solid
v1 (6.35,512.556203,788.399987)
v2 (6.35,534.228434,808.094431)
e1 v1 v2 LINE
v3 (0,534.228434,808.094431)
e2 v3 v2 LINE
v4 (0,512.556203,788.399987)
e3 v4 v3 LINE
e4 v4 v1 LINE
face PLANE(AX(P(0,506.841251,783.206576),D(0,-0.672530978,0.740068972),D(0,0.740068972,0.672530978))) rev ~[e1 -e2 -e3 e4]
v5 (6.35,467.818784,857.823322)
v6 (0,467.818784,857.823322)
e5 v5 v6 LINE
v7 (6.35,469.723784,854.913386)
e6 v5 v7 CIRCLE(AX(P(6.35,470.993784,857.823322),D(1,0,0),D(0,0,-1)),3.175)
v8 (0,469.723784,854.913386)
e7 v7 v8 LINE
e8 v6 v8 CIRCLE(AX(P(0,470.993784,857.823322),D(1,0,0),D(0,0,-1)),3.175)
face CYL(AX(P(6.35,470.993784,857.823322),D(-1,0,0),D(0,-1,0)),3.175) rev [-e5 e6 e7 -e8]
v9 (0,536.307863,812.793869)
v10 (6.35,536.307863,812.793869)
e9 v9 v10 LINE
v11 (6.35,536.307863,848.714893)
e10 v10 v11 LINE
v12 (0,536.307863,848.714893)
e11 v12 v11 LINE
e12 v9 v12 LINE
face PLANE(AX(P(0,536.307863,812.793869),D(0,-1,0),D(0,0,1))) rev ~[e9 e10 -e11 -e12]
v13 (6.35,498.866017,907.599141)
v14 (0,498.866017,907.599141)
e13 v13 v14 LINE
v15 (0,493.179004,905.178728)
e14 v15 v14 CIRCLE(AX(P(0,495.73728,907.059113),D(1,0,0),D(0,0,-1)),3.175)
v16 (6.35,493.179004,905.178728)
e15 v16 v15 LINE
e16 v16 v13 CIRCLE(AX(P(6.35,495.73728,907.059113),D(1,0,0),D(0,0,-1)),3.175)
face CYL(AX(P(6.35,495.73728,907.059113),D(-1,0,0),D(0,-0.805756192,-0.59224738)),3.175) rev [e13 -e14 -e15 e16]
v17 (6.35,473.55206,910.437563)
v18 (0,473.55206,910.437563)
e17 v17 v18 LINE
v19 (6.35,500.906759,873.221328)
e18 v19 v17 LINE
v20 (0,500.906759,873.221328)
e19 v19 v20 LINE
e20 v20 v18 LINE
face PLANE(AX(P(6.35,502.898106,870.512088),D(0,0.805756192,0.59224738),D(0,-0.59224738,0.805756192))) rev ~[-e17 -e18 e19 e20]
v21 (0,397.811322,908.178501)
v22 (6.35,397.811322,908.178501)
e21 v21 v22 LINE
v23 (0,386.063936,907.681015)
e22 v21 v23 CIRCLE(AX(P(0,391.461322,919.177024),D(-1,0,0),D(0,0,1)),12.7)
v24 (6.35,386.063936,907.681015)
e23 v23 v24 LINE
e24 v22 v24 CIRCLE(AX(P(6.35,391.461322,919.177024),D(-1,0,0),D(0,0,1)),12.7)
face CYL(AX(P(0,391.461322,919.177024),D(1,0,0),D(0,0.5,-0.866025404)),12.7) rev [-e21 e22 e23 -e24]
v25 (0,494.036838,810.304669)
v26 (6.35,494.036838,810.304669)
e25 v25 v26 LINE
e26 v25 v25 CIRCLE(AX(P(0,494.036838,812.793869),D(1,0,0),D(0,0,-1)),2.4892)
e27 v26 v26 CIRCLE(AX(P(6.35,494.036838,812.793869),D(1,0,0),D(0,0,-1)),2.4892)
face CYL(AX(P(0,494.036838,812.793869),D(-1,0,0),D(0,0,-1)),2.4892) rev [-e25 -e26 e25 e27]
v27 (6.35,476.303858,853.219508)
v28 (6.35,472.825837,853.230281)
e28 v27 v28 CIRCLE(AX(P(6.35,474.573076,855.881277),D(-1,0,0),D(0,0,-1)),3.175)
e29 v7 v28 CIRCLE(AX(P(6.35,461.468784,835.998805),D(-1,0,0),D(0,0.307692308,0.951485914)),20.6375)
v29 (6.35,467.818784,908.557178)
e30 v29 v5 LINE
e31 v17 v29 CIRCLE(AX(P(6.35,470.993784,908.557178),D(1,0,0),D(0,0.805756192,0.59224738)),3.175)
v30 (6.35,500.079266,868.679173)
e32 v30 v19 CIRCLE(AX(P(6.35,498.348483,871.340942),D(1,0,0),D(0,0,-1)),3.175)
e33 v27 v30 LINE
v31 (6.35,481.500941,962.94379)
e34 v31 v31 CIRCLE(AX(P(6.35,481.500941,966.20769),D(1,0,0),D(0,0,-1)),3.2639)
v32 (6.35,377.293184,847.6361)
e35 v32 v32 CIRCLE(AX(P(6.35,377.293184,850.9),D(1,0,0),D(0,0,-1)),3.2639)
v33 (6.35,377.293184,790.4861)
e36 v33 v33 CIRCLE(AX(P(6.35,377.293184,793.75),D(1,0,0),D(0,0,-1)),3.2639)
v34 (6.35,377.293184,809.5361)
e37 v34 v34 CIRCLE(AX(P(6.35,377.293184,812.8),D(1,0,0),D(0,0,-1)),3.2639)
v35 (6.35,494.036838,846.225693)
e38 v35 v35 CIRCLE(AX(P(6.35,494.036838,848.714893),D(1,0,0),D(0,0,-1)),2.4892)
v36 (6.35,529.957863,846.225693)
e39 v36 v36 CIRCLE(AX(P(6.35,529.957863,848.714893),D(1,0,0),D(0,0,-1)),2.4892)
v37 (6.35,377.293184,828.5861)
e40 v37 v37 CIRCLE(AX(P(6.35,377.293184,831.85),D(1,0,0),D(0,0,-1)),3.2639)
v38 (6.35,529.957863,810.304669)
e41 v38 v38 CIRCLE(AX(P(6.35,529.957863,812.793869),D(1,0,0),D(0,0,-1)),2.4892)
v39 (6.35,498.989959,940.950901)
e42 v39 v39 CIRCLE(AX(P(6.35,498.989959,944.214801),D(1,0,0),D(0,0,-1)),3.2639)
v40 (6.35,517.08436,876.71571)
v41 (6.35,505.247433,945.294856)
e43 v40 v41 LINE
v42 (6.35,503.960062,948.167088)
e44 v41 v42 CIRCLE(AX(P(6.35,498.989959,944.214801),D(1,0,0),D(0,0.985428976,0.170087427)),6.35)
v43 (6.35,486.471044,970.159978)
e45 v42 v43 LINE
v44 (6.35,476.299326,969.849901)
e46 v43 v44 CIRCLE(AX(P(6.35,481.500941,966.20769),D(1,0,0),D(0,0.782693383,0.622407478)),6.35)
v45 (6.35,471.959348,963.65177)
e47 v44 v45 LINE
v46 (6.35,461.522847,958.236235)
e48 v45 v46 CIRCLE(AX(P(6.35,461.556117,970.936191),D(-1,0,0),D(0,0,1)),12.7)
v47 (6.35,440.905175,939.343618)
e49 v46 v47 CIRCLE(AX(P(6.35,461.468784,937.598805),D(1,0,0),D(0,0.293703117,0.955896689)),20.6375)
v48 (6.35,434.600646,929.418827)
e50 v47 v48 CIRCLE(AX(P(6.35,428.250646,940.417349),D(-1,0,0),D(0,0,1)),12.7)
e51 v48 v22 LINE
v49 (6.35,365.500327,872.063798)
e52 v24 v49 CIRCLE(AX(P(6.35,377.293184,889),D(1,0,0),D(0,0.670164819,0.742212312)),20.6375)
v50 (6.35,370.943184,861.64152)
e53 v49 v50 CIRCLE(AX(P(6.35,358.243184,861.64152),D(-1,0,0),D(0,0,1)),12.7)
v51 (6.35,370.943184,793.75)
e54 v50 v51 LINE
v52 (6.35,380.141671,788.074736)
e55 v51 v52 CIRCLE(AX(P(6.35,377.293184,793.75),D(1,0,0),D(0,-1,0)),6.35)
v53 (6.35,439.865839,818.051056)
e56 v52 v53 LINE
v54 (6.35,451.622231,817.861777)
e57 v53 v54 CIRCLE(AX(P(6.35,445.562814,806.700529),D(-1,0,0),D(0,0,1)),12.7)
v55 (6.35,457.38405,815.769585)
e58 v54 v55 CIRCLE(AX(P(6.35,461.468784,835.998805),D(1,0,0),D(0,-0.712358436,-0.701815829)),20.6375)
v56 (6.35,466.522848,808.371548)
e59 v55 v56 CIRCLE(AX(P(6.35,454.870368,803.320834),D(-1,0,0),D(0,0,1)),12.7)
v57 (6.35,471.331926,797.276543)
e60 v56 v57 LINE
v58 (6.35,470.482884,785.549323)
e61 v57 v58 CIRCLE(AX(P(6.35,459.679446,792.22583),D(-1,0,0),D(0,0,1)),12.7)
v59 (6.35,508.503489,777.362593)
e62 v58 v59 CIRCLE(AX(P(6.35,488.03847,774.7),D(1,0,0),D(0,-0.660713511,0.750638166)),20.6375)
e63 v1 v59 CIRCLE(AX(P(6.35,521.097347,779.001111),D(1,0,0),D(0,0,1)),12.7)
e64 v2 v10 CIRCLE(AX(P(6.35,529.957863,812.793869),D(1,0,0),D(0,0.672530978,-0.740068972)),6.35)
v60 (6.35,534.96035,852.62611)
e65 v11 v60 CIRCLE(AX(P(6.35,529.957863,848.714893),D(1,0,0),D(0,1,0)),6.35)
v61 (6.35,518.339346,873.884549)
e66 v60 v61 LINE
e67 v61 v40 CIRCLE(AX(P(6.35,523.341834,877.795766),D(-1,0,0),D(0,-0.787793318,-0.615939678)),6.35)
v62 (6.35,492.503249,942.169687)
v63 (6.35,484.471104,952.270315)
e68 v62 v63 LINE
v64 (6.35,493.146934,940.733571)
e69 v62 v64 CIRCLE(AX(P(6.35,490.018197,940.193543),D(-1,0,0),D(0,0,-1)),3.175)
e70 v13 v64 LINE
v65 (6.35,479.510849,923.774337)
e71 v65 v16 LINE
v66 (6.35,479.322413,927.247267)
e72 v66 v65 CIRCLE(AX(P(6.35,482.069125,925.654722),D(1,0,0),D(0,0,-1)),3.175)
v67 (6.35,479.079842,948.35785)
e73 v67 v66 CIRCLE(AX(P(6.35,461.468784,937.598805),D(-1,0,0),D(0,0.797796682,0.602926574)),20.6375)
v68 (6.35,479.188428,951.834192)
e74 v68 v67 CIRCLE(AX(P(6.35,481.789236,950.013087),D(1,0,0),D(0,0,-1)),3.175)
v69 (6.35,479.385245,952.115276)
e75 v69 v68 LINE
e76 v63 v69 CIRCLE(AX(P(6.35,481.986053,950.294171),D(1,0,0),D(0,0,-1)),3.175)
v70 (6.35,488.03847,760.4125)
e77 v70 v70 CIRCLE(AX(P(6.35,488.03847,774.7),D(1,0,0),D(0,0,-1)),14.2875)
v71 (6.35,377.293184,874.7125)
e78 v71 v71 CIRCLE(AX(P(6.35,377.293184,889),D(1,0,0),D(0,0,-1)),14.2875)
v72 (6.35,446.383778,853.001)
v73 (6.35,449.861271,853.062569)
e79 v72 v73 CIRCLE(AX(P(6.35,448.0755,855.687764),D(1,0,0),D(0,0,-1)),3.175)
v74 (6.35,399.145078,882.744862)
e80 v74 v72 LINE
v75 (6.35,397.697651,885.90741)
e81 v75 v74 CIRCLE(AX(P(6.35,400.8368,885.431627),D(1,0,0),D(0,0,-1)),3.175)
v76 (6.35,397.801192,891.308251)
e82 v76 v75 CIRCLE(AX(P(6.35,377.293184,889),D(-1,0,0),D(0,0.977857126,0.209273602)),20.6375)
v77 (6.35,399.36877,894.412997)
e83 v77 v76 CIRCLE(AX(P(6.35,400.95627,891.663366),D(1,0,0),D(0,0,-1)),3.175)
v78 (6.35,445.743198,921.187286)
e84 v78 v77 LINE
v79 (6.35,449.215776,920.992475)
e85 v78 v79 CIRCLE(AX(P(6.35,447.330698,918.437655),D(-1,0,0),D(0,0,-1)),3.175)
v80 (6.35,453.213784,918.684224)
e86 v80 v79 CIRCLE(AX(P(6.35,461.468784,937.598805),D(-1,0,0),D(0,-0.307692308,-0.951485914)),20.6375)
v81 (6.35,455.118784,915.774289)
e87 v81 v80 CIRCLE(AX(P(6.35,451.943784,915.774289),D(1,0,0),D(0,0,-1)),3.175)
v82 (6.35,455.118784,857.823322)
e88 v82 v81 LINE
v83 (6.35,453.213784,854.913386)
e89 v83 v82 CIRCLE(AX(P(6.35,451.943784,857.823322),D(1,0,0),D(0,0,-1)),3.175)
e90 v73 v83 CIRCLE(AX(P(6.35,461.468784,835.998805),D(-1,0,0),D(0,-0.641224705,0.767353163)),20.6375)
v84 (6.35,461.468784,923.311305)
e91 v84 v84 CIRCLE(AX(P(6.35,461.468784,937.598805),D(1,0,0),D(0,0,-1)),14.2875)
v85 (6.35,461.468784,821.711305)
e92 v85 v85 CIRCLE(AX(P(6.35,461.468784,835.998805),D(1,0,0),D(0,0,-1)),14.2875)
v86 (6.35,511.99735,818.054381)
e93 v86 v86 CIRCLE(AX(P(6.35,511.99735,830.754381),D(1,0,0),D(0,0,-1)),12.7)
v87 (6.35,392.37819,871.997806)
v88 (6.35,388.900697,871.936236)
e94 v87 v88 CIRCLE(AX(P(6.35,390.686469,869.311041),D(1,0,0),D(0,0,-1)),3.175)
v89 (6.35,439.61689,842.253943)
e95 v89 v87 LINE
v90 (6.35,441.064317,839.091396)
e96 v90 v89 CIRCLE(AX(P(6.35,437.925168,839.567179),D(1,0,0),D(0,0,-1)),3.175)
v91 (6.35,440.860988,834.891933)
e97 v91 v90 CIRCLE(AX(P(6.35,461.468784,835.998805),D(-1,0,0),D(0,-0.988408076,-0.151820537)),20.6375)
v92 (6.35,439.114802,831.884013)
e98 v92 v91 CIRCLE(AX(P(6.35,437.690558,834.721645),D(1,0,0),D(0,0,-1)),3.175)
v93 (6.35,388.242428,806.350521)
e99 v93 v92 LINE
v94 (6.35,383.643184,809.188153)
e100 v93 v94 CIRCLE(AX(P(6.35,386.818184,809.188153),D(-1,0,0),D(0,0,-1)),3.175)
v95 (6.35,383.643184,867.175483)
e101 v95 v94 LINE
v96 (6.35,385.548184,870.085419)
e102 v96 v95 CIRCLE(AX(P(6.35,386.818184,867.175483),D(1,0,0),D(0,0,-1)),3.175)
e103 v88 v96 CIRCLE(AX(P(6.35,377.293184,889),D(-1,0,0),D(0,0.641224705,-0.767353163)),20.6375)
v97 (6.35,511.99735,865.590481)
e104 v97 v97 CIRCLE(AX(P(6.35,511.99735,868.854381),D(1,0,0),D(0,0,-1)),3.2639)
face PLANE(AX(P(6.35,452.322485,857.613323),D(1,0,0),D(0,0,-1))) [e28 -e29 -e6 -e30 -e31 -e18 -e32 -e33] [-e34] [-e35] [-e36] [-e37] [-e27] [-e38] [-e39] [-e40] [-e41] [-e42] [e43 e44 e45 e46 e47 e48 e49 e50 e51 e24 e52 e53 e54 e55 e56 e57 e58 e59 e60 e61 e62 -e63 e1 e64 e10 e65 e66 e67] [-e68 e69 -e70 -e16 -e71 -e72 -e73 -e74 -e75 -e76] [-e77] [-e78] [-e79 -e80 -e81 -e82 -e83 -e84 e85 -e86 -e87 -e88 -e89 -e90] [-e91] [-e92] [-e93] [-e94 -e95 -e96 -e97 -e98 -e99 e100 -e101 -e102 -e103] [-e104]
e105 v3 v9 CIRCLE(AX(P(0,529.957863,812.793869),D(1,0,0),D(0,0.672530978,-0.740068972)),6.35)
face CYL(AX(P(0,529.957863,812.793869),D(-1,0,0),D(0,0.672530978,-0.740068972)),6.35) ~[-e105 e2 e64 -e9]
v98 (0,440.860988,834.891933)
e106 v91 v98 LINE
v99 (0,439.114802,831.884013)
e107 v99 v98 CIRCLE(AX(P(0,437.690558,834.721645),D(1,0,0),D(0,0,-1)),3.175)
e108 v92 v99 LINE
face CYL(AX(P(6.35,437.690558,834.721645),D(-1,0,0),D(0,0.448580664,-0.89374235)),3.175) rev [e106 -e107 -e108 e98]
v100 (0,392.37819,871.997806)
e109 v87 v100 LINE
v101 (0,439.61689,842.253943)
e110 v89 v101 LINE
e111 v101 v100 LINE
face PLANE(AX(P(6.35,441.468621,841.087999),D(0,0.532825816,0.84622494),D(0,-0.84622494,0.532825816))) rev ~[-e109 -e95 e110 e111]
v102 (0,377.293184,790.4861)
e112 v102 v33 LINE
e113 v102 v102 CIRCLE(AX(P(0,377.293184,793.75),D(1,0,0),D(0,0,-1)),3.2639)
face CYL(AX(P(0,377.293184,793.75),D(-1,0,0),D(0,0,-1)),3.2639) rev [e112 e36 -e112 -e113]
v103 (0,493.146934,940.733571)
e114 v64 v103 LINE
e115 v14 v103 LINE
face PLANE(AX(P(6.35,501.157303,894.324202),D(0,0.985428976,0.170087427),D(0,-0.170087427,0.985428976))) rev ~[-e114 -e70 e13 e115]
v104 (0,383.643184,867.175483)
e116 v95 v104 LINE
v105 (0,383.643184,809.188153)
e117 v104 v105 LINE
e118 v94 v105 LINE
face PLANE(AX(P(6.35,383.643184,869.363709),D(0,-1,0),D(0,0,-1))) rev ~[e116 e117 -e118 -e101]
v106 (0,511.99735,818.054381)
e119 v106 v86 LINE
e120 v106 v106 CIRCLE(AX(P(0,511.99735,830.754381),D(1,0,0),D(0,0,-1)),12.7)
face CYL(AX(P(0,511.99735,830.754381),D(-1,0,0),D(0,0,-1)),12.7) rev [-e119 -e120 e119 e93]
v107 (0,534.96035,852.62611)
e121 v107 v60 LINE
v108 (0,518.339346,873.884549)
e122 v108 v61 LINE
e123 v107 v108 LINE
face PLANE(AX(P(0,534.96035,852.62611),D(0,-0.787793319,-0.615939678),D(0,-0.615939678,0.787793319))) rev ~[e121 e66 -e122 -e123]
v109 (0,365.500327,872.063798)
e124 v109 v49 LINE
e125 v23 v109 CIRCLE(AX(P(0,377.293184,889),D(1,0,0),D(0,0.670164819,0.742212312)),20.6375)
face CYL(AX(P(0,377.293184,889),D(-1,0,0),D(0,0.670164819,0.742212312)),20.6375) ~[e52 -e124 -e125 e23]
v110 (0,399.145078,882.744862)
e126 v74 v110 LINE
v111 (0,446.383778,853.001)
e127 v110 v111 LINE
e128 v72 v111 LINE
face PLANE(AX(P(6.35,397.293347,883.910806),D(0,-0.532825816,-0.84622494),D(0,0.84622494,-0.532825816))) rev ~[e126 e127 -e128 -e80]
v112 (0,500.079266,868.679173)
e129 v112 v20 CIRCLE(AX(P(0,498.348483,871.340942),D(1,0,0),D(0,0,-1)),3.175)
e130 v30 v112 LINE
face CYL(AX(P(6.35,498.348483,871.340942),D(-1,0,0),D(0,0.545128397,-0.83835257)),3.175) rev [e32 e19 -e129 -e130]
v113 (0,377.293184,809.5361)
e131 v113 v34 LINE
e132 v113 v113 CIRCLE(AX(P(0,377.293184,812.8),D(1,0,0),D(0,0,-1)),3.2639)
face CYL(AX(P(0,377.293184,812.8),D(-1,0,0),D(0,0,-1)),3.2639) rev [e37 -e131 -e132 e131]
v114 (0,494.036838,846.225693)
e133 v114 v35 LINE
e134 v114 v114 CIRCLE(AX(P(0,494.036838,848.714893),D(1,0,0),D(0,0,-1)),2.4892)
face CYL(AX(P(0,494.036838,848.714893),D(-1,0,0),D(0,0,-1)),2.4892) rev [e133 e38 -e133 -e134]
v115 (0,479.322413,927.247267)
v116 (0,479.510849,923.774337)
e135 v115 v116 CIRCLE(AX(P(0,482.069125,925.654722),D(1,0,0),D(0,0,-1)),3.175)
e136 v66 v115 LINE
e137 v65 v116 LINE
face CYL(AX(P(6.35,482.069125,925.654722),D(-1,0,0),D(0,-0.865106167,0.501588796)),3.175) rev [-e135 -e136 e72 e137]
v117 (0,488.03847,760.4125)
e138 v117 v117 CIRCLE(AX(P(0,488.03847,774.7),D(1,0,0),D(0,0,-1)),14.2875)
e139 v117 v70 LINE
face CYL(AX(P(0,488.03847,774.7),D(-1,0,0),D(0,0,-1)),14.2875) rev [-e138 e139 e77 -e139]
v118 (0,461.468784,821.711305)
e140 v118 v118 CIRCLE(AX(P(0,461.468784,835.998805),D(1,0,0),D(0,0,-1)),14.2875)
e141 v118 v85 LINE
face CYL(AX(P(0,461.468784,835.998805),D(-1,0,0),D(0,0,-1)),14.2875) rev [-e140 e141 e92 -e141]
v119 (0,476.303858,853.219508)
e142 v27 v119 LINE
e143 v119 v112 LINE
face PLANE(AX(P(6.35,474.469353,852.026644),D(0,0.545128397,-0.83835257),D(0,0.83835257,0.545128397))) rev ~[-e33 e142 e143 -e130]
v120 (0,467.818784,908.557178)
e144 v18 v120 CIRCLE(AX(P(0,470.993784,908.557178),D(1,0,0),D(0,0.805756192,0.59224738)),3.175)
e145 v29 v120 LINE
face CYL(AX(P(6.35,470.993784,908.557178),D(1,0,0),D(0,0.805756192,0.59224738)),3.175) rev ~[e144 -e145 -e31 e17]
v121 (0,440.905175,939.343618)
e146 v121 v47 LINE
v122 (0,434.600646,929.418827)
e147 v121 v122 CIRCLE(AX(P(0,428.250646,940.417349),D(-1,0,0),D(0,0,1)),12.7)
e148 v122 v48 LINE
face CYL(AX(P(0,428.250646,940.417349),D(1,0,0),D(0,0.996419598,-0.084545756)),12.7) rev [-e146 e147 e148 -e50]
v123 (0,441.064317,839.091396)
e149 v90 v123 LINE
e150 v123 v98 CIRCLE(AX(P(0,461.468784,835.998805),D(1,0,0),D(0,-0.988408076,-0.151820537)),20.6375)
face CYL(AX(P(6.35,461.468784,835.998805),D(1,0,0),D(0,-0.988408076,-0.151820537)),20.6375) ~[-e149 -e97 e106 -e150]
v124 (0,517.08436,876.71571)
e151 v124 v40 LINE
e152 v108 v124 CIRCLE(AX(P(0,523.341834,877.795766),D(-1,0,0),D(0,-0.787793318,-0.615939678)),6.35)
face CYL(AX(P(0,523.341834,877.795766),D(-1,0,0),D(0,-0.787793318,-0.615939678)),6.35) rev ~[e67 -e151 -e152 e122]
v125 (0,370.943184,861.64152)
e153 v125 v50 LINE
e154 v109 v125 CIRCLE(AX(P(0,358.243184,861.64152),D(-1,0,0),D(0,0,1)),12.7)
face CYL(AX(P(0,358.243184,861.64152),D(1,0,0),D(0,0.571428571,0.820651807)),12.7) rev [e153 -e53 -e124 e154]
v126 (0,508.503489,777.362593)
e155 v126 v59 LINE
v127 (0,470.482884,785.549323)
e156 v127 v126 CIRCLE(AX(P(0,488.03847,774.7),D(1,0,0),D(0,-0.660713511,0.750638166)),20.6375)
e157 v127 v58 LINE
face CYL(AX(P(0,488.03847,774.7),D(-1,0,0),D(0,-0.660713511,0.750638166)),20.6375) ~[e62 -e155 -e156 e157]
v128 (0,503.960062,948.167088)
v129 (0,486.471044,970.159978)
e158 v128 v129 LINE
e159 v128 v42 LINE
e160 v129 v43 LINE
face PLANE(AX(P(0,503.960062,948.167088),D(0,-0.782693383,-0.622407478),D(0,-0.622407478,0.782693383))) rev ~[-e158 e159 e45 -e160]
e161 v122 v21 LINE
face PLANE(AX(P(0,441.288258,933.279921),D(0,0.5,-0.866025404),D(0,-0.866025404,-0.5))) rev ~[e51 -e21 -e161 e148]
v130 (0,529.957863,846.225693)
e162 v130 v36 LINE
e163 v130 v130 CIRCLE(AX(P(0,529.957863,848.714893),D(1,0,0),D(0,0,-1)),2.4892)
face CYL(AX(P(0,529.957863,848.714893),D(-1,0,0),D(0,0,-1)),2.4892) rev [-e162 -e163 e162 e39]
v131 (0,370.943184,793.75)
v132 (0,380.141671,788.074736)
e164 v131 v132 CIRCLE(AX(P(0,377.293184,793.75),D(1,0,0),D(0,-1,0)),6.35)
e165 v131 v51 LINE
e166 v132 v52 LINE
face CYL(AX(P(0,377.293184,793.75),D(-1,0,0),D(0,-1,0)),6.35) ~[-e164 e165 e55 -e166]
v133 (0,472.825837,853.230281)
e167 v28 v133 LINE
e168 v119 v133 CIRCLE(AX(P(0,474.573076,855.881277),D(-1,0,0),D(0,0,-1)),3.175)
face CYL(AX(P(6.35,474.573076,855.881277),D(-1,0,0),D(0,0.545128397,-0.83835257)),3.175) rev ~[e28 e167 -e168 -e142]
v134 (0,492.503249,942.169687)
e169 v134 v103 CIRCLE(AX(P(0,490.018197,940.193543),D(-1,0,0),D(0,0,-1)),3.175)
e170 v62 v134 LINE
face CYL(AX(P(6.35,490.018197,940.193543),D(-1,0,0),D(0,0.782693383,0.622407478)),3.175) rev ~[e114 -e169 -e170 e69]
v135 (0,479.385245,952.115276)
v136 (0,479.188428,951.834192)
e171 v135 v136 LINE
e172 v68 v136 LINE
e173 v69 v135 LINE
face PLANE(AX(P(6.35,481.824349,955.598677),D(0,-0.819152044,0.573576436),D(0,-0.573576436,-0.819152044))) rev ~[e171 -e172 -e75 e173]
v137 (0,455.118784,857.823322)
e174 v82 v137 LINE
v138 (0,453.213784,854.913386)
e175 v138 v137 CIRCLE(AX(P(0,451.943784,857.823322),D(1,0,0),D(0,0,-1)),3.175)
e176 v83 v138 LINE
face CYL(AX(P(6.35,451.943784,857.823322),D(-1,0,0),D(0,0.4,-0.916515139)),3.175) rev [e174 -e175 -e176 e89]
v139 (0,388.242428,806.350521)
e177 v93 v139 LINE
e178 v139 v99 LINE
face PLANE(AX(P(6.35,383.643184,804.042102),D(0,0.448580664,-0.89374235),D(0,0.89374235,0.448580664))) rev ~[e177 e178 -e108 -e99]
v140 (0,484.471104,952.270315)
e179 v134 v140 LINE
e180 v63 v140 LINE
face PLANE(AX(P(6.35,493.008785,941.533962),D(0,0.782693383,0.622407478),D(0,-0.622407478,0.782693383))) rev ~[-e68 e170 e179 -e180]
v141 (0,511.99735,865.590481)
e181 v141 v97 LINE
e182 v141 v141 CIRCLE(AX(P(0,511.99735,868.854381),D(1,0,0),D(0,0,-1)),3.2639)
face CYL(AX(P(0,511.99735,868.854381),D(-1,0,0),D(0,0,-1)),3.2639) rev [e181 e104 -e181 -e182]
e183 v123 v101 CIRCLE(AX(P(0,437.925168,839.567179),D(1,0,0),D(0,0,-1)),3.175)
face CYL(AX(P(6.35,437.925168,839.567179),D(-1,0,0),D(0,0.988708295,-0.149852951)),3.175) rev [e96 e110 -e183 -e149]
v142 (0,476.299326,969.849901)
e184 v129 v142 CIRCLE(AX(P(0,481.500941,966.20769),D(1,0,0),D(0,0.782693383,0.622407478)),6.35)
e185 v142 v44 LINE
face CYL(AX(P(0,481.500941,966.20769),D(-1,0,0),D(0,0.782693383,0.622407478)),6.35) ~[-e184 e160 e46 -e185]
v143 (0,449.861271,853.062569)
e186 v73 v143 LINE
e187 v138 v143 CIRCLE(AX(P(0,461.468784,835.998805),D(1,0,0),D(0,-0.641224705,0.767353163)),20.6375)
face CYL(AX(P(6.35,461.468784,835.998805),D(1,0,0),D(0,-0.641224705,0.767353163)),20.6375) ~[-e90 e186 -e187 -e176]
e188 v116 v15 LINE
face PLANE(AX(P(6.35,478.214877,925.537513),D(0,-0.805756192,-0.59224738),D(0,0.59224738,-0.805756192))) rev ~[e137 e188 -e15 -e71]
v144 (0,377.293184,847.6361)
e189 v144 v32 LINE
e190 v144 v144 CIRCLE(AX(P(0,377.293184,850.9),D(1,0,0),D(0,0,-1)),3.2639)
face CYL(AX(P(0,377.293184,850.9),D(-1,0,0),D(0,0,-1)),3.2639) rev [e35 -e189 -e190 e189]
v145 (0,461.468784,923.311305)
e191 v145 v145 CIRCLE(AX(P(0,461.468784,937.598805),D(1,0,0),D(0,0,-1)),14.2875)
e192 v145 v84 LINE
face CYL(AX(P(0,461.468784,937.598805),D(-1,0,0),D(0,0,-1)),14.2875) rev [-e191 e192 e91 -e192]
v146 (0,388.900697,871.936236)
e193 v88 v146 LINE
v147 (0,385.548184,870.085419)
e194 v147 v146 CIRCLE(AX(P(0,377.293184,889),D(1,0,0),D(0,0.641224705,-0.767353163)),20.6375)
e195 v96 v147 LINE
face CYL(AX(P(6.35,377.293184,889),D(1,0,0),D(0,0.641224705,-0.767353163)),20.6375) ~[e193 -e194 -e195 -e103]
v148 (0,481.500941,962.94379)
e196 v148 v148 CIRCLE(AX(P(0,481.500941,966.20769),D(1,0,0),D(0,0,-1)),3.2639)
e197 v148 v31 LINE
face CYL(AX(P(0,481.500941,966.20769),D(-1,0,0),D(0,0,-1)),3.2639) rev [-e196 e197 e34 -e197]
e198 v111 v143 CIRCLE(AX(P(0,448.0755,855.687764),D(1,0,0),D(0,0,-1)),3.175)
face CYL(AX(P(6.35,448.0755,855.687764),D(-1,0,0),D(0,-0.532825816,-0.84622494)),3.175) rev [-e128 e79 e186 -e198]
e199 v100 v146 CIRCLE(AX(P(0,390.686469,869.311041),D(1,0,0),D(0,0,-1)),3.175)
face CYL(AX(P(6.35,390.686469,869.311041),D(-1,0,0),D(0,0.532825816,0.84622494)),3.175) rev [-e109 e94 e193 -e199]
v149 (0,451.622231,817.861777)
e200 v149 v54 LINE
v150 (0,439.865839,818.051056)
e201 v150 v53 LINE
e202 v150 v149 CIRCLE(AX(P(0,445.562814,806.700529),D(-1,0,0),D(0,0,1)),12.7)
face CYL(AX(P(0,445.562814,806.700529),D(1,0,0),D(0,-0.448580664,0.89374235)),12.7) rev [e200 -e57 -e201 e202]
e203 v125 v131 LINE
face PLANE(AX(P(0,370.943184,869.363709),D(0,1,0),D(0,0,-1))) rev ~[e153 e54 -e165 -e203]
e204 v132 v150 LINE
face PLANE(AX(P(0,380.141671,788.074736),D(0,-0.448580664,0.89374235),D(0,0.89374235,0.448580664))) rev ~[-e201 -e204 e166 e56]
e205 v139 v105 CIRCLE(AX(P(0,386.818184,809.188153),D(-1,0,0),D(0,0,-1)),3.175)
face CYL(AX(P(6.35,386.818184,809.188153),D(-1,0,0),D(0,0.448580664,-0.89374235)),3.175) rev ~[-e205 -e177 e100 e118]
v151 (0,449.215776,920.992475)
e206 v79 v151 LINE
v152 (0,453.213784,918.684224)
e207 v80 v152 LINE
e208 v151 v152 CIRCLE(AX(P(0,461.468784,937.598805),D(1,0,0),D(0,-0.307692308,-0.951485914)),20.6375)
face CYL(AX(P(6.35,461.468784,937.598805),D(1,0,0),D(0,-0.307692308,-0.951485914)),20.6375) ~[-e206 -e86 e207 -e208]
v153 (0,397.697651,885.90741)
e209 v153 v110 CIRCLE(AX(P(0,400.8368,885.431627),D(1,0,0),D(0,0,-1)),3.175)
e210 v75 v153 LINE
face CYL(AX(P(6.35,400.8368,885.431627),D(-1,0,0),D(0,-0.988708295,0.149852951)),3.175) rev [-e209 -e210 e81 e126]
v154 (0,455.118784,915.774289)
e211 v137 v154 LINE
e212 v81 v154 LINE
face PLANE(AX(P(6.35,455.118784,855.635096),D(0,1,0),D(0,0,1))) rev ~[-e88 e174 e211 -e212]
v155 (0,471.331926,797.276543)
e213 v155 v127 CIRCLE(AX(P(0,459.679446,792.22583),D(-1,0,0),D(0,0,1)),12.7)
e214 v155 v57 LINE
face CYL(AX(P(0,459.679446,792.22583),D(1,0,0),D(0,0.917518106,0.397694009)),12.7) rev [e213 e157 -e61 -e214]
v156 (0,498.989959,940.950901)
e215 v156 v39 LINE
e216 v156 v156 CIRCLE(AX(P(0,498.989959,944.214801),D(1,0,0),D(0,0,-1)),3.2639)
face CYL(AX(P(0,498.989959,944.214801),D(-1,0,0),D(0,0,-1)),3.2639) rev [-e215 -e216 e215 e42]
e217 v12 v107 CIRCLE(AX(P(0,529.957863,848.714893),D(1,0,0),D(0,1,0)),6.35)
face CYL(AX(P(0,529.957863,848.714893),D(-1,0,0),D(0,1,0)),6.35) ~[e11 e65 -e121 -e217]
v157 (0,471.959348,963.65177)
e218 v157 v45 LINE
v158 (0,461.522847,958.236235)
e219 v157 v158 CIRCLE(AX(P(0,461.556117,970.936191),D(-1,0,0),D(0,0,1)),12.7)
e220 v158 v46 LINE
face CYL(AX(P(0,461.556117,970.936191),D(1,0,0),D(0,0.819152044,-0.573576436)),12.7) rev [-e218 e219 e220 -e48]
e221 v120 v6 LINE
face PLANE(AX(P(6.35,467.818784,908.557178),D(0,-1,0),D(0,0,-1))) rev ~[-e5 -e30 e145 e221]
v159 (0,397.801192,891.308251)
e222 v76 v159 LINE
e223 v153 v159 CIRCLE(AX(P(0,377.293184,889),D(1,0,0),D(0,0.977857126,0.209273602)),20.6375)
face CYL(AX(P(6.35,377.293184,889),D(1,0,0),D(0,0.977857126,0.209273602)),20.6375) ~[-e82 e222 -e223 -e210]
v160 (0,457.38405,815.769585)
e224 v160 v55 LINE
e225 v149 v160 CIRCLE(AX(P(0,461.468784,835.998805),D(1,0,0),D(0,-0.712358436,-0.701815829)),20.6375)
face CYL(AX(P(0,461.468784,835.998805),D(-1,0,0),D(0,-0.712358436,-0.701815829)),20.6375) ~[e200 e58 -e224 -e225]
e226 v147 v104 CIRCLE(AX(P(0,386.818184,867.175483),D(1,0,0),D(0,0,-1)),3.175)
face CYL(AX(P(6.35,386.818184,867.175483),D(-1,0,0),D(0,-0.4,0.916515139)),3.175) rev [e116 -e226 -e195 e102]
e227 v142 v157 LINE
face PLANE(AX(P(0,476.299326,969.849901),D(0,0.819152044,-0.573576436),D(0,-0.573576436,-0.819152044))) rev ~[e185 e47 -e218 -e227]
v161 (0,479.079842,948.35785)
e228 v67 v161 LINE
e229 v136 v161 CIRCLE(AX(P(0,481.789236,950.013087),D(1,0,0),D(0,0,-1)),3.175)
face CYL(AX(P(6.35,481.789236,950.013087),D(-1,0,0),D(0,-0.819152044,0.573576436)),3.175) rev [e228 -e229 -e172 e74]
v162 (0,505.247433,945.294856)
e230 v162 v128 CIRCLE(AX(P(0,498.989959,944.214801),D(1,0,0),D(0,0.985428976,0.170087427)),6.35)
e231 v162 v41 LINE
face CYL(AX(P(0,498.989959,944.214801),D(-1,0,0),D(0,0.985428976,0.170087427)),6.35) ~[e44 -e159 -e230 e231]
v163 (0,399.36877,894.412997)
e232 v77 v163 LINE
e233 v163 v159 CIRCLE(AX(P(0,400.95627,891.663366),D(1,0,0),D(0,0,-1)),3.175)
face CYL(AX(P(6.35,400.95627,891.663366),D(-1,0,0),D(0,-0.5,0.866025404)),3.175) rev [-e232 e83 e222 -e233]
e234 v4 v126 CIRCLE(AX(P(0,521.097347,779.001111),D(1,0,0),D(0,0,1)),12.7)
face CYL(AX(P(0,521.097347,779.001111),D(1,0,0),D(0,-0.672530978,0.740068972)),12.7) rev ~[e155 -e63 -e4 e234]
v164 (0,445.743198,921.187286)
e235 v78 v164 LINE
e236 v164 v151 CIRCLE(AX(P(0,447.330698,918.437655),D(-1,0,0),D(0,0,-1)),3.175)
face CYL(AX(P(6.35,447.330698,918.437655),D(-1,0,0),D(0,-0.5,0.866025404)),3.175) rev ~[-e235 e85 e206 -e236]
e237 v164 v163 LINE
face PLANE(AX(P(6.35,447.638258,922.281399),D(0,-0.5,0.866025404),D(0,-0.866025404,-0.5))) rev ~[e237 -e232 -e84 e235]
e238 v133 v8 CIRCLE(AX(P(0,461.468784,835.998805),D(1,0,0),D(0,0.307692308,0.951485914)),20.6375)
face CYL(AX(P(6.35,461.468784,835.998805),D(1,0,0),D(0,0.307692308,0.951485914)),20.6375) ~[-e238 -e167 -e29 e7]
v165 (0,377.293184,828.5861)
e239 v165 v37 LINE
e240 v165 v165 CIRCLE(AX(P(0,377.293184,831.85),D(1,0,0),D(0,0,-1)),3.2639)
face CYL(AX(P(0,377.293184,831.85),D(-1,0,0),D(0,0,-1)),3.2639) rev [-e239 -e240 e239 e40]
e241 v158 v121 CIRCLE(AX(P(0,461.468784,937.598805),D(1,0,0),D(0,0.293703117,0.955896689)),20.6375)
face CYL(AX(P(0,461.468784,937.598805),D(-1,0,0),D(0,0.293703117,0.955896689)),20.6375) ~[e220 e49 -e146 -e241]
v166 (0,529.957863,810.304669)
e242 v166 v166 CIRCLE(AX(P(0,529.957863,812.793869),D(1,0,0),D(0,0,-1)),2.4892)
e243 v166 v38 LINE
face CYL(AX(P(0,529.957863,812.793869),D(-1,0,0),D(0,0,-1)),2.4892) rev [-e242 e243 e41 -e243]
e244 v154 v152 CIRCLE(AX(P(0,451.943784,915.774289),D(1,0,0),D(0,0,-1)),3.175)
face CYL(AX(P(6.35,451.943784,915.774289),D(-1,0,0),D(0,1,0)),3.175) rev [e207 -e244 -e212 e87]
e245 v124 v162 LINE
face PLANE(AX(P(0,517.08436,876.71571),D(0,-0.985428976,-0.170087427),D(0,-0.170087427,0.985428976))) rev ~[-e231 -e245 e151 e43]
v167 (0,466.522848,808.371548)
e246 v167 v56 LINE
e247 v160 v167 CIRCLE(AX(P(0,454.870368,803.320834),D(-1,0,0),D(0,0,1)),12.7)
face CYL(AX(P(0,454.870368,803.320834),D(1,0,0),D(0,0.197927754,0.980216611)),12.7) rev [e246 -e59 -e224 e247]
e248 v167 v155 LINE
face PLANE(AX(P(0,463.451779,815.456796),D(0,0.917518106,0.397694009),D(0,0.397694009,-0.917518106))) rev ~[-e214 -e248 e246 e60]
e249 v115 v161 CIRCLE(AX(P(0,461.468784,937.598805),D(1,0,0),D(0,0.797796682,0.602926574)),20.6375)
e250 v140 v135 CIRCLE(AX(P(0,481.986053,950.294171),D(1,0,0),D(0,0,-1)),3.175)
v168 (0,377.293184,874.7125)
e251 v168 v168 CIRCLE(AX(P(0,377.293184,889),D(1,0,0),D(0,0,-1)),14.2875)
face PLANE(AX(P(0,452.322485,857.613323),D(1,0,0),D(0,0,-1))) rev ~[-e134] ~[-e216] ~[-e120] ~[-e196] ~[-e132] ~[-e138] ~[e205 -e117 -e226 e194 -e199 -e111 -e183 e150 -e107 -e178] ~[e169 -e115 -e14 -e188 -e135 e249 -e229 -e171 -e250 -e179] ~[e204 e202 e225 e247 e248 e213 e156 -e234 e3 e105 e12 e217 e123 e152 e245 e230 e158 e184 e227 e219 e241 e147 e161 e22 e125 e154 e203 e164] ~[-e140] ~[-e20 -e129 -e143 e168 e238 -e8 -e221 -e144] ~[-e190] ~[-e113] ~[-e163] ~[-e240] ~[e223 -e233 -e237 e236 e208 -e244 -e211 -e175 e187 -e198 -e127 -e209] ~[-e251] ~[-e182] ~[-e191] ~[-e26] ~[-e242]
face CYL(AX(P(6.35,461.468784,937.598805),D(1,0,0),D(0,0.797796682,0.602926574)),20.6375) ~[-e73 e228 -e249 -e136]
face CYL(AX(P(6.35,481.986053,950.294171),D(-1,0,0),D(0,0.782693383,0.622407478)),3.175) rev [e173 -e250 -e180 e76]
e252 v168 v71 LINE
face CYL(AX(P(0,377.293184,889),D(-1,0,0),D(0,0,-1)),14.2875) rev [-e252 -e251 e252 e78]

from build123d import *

# Parameters (mm, degrees)
SKETCH1_R           = 14.2875
SKETCH1_R_2         = 3.2639
SKETCH1_R_3         = 2.4892
SKETCH1_R_4         = 12.7
BOSS_EXTRUDE1_DEPTH = 6.35
FILLET1_R           = 12.7
CUT_EXTRUDE1_DEPTH  = 1111.646166548
FILLET2_R           = 3.175


with BuildPart() as part:
    # Sketch1 → Boss-Extrude1 (new body)
    with BuildSketch(Plane(origin=(0, 0, 0), x_dir=(0, 0, -1), z_dir=(1, 0, 0))):
        with BuildLine():
            ThreePointArc((-970.159977951, 486.471044057), (-972.554742028, 481.307456029), (-969.849900837, 476.299325595))
            Line((-969.849900837, 476.299325595), (-957.32612323, 467.530082108))
            ThreePointArc((-957.32612323, 467.530082108), (-952.814366358, 447.526291127), (-933.279921362, 441.288257591))
            Line((-933.279921362, 441.288257591), (-904.317406585, 391.123710482))
            ThreePointArc((-904.317406585, 391.123710482), (-899.31875, 359.420584766), (-869.363709458, 370.943184037))
            Line((-869.363709458, 370.943184037), (-793.75, 370.943184037))
            ThreePointArc((-793.75, 370.943184037), (-788.345816721, 373.958922036), (-788.074736079, 380.141671253))
            Line((-788.074736079, 380.141671253), (-821.515081147, 446.767486803))
            ThreePointArc((-821.515081147, 446.767486803), (-816.600560548, 454.425027508), (-815.456796251, 463.451779173))
            Line((-815.456796251, 463.451779173), (-790.191295152, 474.402994585))
            ThreePointArc((-790.191295152, 474.402994585), (-754.524902303, 483.694296655), (-783.206575716, 506.841250736))
            Line((-783.206575716, 506.841250736), (-808.094430848, 534.22843431))
            ThreePointArc((-808.094430848, 534.22843431), (-810.224397121, 535.764782193), (-812.79386882, 536.307862598))
            Line((-812.79386882, 536.307862598), (-848.714893304, 536.307862598))
            ThreePointArc((-848.714893304, 536.307862598), (-850.783311047, 535.961540474), (-852.626110261, 534.96035017))
            Line((-852.626110261, 534.96035017), (-873.884548632, 518.339346434))
            ThreePointArc((-873.884548632, 518.339346434), (-875.222451174, 517.536616274), (-876.715710426, 517.084360008))
            Line((-876.715710426, 517.084360008), (-945.294856051, 505.247433425))
            ThreePointArc((-945.294856051, 505.247433425), (-946.812001144, 504.784530233), (-948.167088373, 503.960062407))
            Line((-948.167088373, 503.960062407), (-970.159977951, 486.471044057))
        make_face()
        with Locations((-774.7, 488.038469669)):
            Circle(SKETCH1_R, mode=Mode.SUBTRACT)
        with Locations((-835.998805319, 461.468784037)):
            Circle(SKETCH1_R, mode=Mode.SUBTRACT)
        with Locations((-889, 377.293184037)):
            Circle(SKETCH1_R, mode=Mode.SUBTRACT)
        with Locations((-937.598805319, 461.468784037)):
            Circle(SKETCH1_R, mode=Mode.SUBTRACT)
        with Locations((-850.9, 377.293184037)):
            Circle(SKETCH1_R_2, mode=Mode.SUBTRACT)
        with Locations((-831.85, 377.293184037)):
            Circle(SKETCH1_R_2, mode=Mode.SUBTRACT)
        with Locations((-812.8, 377.293184037)):
            Circle(SKETCH1_R_2, mode=Mode.SUBTRACT)
        with Locations((-793.75, 377.293184037)):
            Circle(SKETCH1_R_2, mode=Mode.SUBTRACT)
        with Locations((-966.207690466, 481.500941076)):
            Circle(SKETCH1_R_2, mode=Mode.SUBTRACT)
        with Locations((-944.214800888, 498.989959427)):
            Circle(SKETCH1_R_2, mode=Mode.SUBTRACT)
        with Locations((-868.854381062, 511.997350355)):
            Circle(SKETCH1_R_2, mode=Mode.SUBTRACT)
        with Locations((-848.714893304, 494.036838113)):
            Circle(SKETCH1_R_3, mode=Mode.SUBTRACT)
        with Locations((-812.79386882, 494.036838113)):
            Circle(SKETCH1_R_3, mode=Mode.SUBTRACT)
        with Locations((-830.754381062, 511.997350355)):
            Circle(SKETCH1_R_4, mode=Mode.SUBTRACT)
        with Locations((-848.714893304, 529.957862598)):
            Circle(SKETCH1_R_3, mode=Mode.SUBTRACT)
        with Locations((-812.79386882, 529.957862598)):
            Circle(SKETCH1_R_3, mode=Mode.SUBTRACT)
    extrude(amount=BOSS_EXTRUDE1_DEPTH)

    # Fillet1
    fillet1_edges = [part.edges().sort_by_distance(p)[0] for p in [
        (3.175, 391.123710482, 904.317406585),
        (3.175, 441.288257591, 933.279921362),
        (3.175, 467.530082108, 957.32612323),
        (3.175, 506.841250736, 783.206575716),
        (3.175, 474.402994585, 790.191295152),
        (3.175, 463.451779173, 815.456796251),
        (3.175, 446.767486803, 821.515081147),
        (3.175, 370.943184037, 869.363709458),
    ]]
    fillet(fillet1_edges, radius=FILLET1_R)

    # Sketch2 → Cut-Extrude1 (cut, through all)
    with BuildSketch(Plane(origin=(6.35, 0, 0), x_dir=(0, 0, -1), z_dir=(1, 0, 0))):
        with BuildLine():
            Line((-941.533962306, 493.008784522), (-955.598677388, 481.824348785))
            Line((-955.598677388, 481.824348785), (-950.041702488, 477.93331307))
            ThreePointArc((-950.041702488, 477.93331307), (-937.835924045, 482.10492178), (-925.537513496, 478.214877486))
            Line((-925.537513496, 478.214877486), (-894.3242024, 501.157303389))
            Line((-894.3242024, 501.157303389), (-941.533962306, 493.008784522))
        make_face()
        with BuildLine():
            Line((-852.026643719, 474.469353351), (-870.512088457, 502.898105526))
            Line((-870.512088457, 502.898105526), (-910.437563384, 473.552059946))
            ThreePointArc((-910.437563384, 473.552059946), (-911.574059703, 470.004314737), (-908.557177951, 467.818784037))
            Line((-908.557177951, 467.818784037), (-855.635095861, 467.818784037))
            ThreePointArc((-855.635095861, 467.818784037), (-854.138266208, 471.310855207), (-852.026643719, 474.469353351))
        make_face()
        with BuildLine():
            ThreePointArc((-917.962514777, 455.118784037), (-919.726206049, 451.150034037), (-922.281398734, 447.638257591))
            Line((-922.281398734, 447.638257591), (-893.318883957, 397.473710482))
            ThreePointArc((-893.318883957, 397.473710482), (-888.604427978, 397.926892599), (-883.91080583, 397.29334676))
            Line((-883.91080583, 397.29334676), (-851.835056229, 448.235509183))
            ThreePointArc((-851.835056229, 448.235509183), (-854.065907119, 451.494505176), (-855.635095861, 455.118784037))
            Line((-855.635095861, 455.118784037), (-917.962514777, 455.118784037))
        make_face()
        with BuildLine():
            Line((-804.042101766, 383.643184037), (-832.86560899, 441.07051237))
            ThreePointArc((-832.86560899, 441.07051237), (-836.996855705, 440.855431527), (-841.08799949, 441.468621314))
            Line((-841.08799949, 441.468621314), (-873.16374909, 390.526458891))
            ThreePointArc((-873.16374909, 390.526458891), (-870.9328982, 387.267462898), (-869.363709458, 383.643184037))
            Line((-869.363709458, 383.643184037), (-804.042101766, 383.643184037))
        make_face()
    extrude(amount=-CUT_EXTRUDE1_DEPTH, mode=Mode.SUBTRACT)

    # Fillet2
    fillet2_edges = [part.edges().sort_by_distance(p)[0] for p in [
        (3.175, 478.214877486, 925.537513496),
        (3.175, 477.93331307, 950.041702488),
        (3.175, 481.824348785, 955.598677388),
        (3.175, 493.008784522, 941.533962306),
        (3.175, 501.157303389, 894.3242024),
        (3.175, 397.29334676, 883.91080583),
        (3.175, 397.473710482, 893.318883957),
        (3.175, 447.638257591, 922.281398734),
        (3.175, 455.118784037, 917.962514777),
        (3.175, 455.118784037, 855.635095861),
        (3.175, 448.235509183, 851.835056229),
        (3.175, 383.643184037, 869.363709458),
        (3.175, 390.526458891, 873.16374909),
        (3.175, 441.468621314, 841.08799949),
        (3.175, 441.07051237, 832.86560899),
        (3.175, 383.643184037, 804.042101766),
        (3.175, 502.898105526, 870.512088457),
        (3.175, 474.469353351, 852.026643719),
        (3.175, 467.818784037, 855.635095861),
    ]]
    fillet(fillet2_edges, radius=FILLET2_R)


solid = part.part
